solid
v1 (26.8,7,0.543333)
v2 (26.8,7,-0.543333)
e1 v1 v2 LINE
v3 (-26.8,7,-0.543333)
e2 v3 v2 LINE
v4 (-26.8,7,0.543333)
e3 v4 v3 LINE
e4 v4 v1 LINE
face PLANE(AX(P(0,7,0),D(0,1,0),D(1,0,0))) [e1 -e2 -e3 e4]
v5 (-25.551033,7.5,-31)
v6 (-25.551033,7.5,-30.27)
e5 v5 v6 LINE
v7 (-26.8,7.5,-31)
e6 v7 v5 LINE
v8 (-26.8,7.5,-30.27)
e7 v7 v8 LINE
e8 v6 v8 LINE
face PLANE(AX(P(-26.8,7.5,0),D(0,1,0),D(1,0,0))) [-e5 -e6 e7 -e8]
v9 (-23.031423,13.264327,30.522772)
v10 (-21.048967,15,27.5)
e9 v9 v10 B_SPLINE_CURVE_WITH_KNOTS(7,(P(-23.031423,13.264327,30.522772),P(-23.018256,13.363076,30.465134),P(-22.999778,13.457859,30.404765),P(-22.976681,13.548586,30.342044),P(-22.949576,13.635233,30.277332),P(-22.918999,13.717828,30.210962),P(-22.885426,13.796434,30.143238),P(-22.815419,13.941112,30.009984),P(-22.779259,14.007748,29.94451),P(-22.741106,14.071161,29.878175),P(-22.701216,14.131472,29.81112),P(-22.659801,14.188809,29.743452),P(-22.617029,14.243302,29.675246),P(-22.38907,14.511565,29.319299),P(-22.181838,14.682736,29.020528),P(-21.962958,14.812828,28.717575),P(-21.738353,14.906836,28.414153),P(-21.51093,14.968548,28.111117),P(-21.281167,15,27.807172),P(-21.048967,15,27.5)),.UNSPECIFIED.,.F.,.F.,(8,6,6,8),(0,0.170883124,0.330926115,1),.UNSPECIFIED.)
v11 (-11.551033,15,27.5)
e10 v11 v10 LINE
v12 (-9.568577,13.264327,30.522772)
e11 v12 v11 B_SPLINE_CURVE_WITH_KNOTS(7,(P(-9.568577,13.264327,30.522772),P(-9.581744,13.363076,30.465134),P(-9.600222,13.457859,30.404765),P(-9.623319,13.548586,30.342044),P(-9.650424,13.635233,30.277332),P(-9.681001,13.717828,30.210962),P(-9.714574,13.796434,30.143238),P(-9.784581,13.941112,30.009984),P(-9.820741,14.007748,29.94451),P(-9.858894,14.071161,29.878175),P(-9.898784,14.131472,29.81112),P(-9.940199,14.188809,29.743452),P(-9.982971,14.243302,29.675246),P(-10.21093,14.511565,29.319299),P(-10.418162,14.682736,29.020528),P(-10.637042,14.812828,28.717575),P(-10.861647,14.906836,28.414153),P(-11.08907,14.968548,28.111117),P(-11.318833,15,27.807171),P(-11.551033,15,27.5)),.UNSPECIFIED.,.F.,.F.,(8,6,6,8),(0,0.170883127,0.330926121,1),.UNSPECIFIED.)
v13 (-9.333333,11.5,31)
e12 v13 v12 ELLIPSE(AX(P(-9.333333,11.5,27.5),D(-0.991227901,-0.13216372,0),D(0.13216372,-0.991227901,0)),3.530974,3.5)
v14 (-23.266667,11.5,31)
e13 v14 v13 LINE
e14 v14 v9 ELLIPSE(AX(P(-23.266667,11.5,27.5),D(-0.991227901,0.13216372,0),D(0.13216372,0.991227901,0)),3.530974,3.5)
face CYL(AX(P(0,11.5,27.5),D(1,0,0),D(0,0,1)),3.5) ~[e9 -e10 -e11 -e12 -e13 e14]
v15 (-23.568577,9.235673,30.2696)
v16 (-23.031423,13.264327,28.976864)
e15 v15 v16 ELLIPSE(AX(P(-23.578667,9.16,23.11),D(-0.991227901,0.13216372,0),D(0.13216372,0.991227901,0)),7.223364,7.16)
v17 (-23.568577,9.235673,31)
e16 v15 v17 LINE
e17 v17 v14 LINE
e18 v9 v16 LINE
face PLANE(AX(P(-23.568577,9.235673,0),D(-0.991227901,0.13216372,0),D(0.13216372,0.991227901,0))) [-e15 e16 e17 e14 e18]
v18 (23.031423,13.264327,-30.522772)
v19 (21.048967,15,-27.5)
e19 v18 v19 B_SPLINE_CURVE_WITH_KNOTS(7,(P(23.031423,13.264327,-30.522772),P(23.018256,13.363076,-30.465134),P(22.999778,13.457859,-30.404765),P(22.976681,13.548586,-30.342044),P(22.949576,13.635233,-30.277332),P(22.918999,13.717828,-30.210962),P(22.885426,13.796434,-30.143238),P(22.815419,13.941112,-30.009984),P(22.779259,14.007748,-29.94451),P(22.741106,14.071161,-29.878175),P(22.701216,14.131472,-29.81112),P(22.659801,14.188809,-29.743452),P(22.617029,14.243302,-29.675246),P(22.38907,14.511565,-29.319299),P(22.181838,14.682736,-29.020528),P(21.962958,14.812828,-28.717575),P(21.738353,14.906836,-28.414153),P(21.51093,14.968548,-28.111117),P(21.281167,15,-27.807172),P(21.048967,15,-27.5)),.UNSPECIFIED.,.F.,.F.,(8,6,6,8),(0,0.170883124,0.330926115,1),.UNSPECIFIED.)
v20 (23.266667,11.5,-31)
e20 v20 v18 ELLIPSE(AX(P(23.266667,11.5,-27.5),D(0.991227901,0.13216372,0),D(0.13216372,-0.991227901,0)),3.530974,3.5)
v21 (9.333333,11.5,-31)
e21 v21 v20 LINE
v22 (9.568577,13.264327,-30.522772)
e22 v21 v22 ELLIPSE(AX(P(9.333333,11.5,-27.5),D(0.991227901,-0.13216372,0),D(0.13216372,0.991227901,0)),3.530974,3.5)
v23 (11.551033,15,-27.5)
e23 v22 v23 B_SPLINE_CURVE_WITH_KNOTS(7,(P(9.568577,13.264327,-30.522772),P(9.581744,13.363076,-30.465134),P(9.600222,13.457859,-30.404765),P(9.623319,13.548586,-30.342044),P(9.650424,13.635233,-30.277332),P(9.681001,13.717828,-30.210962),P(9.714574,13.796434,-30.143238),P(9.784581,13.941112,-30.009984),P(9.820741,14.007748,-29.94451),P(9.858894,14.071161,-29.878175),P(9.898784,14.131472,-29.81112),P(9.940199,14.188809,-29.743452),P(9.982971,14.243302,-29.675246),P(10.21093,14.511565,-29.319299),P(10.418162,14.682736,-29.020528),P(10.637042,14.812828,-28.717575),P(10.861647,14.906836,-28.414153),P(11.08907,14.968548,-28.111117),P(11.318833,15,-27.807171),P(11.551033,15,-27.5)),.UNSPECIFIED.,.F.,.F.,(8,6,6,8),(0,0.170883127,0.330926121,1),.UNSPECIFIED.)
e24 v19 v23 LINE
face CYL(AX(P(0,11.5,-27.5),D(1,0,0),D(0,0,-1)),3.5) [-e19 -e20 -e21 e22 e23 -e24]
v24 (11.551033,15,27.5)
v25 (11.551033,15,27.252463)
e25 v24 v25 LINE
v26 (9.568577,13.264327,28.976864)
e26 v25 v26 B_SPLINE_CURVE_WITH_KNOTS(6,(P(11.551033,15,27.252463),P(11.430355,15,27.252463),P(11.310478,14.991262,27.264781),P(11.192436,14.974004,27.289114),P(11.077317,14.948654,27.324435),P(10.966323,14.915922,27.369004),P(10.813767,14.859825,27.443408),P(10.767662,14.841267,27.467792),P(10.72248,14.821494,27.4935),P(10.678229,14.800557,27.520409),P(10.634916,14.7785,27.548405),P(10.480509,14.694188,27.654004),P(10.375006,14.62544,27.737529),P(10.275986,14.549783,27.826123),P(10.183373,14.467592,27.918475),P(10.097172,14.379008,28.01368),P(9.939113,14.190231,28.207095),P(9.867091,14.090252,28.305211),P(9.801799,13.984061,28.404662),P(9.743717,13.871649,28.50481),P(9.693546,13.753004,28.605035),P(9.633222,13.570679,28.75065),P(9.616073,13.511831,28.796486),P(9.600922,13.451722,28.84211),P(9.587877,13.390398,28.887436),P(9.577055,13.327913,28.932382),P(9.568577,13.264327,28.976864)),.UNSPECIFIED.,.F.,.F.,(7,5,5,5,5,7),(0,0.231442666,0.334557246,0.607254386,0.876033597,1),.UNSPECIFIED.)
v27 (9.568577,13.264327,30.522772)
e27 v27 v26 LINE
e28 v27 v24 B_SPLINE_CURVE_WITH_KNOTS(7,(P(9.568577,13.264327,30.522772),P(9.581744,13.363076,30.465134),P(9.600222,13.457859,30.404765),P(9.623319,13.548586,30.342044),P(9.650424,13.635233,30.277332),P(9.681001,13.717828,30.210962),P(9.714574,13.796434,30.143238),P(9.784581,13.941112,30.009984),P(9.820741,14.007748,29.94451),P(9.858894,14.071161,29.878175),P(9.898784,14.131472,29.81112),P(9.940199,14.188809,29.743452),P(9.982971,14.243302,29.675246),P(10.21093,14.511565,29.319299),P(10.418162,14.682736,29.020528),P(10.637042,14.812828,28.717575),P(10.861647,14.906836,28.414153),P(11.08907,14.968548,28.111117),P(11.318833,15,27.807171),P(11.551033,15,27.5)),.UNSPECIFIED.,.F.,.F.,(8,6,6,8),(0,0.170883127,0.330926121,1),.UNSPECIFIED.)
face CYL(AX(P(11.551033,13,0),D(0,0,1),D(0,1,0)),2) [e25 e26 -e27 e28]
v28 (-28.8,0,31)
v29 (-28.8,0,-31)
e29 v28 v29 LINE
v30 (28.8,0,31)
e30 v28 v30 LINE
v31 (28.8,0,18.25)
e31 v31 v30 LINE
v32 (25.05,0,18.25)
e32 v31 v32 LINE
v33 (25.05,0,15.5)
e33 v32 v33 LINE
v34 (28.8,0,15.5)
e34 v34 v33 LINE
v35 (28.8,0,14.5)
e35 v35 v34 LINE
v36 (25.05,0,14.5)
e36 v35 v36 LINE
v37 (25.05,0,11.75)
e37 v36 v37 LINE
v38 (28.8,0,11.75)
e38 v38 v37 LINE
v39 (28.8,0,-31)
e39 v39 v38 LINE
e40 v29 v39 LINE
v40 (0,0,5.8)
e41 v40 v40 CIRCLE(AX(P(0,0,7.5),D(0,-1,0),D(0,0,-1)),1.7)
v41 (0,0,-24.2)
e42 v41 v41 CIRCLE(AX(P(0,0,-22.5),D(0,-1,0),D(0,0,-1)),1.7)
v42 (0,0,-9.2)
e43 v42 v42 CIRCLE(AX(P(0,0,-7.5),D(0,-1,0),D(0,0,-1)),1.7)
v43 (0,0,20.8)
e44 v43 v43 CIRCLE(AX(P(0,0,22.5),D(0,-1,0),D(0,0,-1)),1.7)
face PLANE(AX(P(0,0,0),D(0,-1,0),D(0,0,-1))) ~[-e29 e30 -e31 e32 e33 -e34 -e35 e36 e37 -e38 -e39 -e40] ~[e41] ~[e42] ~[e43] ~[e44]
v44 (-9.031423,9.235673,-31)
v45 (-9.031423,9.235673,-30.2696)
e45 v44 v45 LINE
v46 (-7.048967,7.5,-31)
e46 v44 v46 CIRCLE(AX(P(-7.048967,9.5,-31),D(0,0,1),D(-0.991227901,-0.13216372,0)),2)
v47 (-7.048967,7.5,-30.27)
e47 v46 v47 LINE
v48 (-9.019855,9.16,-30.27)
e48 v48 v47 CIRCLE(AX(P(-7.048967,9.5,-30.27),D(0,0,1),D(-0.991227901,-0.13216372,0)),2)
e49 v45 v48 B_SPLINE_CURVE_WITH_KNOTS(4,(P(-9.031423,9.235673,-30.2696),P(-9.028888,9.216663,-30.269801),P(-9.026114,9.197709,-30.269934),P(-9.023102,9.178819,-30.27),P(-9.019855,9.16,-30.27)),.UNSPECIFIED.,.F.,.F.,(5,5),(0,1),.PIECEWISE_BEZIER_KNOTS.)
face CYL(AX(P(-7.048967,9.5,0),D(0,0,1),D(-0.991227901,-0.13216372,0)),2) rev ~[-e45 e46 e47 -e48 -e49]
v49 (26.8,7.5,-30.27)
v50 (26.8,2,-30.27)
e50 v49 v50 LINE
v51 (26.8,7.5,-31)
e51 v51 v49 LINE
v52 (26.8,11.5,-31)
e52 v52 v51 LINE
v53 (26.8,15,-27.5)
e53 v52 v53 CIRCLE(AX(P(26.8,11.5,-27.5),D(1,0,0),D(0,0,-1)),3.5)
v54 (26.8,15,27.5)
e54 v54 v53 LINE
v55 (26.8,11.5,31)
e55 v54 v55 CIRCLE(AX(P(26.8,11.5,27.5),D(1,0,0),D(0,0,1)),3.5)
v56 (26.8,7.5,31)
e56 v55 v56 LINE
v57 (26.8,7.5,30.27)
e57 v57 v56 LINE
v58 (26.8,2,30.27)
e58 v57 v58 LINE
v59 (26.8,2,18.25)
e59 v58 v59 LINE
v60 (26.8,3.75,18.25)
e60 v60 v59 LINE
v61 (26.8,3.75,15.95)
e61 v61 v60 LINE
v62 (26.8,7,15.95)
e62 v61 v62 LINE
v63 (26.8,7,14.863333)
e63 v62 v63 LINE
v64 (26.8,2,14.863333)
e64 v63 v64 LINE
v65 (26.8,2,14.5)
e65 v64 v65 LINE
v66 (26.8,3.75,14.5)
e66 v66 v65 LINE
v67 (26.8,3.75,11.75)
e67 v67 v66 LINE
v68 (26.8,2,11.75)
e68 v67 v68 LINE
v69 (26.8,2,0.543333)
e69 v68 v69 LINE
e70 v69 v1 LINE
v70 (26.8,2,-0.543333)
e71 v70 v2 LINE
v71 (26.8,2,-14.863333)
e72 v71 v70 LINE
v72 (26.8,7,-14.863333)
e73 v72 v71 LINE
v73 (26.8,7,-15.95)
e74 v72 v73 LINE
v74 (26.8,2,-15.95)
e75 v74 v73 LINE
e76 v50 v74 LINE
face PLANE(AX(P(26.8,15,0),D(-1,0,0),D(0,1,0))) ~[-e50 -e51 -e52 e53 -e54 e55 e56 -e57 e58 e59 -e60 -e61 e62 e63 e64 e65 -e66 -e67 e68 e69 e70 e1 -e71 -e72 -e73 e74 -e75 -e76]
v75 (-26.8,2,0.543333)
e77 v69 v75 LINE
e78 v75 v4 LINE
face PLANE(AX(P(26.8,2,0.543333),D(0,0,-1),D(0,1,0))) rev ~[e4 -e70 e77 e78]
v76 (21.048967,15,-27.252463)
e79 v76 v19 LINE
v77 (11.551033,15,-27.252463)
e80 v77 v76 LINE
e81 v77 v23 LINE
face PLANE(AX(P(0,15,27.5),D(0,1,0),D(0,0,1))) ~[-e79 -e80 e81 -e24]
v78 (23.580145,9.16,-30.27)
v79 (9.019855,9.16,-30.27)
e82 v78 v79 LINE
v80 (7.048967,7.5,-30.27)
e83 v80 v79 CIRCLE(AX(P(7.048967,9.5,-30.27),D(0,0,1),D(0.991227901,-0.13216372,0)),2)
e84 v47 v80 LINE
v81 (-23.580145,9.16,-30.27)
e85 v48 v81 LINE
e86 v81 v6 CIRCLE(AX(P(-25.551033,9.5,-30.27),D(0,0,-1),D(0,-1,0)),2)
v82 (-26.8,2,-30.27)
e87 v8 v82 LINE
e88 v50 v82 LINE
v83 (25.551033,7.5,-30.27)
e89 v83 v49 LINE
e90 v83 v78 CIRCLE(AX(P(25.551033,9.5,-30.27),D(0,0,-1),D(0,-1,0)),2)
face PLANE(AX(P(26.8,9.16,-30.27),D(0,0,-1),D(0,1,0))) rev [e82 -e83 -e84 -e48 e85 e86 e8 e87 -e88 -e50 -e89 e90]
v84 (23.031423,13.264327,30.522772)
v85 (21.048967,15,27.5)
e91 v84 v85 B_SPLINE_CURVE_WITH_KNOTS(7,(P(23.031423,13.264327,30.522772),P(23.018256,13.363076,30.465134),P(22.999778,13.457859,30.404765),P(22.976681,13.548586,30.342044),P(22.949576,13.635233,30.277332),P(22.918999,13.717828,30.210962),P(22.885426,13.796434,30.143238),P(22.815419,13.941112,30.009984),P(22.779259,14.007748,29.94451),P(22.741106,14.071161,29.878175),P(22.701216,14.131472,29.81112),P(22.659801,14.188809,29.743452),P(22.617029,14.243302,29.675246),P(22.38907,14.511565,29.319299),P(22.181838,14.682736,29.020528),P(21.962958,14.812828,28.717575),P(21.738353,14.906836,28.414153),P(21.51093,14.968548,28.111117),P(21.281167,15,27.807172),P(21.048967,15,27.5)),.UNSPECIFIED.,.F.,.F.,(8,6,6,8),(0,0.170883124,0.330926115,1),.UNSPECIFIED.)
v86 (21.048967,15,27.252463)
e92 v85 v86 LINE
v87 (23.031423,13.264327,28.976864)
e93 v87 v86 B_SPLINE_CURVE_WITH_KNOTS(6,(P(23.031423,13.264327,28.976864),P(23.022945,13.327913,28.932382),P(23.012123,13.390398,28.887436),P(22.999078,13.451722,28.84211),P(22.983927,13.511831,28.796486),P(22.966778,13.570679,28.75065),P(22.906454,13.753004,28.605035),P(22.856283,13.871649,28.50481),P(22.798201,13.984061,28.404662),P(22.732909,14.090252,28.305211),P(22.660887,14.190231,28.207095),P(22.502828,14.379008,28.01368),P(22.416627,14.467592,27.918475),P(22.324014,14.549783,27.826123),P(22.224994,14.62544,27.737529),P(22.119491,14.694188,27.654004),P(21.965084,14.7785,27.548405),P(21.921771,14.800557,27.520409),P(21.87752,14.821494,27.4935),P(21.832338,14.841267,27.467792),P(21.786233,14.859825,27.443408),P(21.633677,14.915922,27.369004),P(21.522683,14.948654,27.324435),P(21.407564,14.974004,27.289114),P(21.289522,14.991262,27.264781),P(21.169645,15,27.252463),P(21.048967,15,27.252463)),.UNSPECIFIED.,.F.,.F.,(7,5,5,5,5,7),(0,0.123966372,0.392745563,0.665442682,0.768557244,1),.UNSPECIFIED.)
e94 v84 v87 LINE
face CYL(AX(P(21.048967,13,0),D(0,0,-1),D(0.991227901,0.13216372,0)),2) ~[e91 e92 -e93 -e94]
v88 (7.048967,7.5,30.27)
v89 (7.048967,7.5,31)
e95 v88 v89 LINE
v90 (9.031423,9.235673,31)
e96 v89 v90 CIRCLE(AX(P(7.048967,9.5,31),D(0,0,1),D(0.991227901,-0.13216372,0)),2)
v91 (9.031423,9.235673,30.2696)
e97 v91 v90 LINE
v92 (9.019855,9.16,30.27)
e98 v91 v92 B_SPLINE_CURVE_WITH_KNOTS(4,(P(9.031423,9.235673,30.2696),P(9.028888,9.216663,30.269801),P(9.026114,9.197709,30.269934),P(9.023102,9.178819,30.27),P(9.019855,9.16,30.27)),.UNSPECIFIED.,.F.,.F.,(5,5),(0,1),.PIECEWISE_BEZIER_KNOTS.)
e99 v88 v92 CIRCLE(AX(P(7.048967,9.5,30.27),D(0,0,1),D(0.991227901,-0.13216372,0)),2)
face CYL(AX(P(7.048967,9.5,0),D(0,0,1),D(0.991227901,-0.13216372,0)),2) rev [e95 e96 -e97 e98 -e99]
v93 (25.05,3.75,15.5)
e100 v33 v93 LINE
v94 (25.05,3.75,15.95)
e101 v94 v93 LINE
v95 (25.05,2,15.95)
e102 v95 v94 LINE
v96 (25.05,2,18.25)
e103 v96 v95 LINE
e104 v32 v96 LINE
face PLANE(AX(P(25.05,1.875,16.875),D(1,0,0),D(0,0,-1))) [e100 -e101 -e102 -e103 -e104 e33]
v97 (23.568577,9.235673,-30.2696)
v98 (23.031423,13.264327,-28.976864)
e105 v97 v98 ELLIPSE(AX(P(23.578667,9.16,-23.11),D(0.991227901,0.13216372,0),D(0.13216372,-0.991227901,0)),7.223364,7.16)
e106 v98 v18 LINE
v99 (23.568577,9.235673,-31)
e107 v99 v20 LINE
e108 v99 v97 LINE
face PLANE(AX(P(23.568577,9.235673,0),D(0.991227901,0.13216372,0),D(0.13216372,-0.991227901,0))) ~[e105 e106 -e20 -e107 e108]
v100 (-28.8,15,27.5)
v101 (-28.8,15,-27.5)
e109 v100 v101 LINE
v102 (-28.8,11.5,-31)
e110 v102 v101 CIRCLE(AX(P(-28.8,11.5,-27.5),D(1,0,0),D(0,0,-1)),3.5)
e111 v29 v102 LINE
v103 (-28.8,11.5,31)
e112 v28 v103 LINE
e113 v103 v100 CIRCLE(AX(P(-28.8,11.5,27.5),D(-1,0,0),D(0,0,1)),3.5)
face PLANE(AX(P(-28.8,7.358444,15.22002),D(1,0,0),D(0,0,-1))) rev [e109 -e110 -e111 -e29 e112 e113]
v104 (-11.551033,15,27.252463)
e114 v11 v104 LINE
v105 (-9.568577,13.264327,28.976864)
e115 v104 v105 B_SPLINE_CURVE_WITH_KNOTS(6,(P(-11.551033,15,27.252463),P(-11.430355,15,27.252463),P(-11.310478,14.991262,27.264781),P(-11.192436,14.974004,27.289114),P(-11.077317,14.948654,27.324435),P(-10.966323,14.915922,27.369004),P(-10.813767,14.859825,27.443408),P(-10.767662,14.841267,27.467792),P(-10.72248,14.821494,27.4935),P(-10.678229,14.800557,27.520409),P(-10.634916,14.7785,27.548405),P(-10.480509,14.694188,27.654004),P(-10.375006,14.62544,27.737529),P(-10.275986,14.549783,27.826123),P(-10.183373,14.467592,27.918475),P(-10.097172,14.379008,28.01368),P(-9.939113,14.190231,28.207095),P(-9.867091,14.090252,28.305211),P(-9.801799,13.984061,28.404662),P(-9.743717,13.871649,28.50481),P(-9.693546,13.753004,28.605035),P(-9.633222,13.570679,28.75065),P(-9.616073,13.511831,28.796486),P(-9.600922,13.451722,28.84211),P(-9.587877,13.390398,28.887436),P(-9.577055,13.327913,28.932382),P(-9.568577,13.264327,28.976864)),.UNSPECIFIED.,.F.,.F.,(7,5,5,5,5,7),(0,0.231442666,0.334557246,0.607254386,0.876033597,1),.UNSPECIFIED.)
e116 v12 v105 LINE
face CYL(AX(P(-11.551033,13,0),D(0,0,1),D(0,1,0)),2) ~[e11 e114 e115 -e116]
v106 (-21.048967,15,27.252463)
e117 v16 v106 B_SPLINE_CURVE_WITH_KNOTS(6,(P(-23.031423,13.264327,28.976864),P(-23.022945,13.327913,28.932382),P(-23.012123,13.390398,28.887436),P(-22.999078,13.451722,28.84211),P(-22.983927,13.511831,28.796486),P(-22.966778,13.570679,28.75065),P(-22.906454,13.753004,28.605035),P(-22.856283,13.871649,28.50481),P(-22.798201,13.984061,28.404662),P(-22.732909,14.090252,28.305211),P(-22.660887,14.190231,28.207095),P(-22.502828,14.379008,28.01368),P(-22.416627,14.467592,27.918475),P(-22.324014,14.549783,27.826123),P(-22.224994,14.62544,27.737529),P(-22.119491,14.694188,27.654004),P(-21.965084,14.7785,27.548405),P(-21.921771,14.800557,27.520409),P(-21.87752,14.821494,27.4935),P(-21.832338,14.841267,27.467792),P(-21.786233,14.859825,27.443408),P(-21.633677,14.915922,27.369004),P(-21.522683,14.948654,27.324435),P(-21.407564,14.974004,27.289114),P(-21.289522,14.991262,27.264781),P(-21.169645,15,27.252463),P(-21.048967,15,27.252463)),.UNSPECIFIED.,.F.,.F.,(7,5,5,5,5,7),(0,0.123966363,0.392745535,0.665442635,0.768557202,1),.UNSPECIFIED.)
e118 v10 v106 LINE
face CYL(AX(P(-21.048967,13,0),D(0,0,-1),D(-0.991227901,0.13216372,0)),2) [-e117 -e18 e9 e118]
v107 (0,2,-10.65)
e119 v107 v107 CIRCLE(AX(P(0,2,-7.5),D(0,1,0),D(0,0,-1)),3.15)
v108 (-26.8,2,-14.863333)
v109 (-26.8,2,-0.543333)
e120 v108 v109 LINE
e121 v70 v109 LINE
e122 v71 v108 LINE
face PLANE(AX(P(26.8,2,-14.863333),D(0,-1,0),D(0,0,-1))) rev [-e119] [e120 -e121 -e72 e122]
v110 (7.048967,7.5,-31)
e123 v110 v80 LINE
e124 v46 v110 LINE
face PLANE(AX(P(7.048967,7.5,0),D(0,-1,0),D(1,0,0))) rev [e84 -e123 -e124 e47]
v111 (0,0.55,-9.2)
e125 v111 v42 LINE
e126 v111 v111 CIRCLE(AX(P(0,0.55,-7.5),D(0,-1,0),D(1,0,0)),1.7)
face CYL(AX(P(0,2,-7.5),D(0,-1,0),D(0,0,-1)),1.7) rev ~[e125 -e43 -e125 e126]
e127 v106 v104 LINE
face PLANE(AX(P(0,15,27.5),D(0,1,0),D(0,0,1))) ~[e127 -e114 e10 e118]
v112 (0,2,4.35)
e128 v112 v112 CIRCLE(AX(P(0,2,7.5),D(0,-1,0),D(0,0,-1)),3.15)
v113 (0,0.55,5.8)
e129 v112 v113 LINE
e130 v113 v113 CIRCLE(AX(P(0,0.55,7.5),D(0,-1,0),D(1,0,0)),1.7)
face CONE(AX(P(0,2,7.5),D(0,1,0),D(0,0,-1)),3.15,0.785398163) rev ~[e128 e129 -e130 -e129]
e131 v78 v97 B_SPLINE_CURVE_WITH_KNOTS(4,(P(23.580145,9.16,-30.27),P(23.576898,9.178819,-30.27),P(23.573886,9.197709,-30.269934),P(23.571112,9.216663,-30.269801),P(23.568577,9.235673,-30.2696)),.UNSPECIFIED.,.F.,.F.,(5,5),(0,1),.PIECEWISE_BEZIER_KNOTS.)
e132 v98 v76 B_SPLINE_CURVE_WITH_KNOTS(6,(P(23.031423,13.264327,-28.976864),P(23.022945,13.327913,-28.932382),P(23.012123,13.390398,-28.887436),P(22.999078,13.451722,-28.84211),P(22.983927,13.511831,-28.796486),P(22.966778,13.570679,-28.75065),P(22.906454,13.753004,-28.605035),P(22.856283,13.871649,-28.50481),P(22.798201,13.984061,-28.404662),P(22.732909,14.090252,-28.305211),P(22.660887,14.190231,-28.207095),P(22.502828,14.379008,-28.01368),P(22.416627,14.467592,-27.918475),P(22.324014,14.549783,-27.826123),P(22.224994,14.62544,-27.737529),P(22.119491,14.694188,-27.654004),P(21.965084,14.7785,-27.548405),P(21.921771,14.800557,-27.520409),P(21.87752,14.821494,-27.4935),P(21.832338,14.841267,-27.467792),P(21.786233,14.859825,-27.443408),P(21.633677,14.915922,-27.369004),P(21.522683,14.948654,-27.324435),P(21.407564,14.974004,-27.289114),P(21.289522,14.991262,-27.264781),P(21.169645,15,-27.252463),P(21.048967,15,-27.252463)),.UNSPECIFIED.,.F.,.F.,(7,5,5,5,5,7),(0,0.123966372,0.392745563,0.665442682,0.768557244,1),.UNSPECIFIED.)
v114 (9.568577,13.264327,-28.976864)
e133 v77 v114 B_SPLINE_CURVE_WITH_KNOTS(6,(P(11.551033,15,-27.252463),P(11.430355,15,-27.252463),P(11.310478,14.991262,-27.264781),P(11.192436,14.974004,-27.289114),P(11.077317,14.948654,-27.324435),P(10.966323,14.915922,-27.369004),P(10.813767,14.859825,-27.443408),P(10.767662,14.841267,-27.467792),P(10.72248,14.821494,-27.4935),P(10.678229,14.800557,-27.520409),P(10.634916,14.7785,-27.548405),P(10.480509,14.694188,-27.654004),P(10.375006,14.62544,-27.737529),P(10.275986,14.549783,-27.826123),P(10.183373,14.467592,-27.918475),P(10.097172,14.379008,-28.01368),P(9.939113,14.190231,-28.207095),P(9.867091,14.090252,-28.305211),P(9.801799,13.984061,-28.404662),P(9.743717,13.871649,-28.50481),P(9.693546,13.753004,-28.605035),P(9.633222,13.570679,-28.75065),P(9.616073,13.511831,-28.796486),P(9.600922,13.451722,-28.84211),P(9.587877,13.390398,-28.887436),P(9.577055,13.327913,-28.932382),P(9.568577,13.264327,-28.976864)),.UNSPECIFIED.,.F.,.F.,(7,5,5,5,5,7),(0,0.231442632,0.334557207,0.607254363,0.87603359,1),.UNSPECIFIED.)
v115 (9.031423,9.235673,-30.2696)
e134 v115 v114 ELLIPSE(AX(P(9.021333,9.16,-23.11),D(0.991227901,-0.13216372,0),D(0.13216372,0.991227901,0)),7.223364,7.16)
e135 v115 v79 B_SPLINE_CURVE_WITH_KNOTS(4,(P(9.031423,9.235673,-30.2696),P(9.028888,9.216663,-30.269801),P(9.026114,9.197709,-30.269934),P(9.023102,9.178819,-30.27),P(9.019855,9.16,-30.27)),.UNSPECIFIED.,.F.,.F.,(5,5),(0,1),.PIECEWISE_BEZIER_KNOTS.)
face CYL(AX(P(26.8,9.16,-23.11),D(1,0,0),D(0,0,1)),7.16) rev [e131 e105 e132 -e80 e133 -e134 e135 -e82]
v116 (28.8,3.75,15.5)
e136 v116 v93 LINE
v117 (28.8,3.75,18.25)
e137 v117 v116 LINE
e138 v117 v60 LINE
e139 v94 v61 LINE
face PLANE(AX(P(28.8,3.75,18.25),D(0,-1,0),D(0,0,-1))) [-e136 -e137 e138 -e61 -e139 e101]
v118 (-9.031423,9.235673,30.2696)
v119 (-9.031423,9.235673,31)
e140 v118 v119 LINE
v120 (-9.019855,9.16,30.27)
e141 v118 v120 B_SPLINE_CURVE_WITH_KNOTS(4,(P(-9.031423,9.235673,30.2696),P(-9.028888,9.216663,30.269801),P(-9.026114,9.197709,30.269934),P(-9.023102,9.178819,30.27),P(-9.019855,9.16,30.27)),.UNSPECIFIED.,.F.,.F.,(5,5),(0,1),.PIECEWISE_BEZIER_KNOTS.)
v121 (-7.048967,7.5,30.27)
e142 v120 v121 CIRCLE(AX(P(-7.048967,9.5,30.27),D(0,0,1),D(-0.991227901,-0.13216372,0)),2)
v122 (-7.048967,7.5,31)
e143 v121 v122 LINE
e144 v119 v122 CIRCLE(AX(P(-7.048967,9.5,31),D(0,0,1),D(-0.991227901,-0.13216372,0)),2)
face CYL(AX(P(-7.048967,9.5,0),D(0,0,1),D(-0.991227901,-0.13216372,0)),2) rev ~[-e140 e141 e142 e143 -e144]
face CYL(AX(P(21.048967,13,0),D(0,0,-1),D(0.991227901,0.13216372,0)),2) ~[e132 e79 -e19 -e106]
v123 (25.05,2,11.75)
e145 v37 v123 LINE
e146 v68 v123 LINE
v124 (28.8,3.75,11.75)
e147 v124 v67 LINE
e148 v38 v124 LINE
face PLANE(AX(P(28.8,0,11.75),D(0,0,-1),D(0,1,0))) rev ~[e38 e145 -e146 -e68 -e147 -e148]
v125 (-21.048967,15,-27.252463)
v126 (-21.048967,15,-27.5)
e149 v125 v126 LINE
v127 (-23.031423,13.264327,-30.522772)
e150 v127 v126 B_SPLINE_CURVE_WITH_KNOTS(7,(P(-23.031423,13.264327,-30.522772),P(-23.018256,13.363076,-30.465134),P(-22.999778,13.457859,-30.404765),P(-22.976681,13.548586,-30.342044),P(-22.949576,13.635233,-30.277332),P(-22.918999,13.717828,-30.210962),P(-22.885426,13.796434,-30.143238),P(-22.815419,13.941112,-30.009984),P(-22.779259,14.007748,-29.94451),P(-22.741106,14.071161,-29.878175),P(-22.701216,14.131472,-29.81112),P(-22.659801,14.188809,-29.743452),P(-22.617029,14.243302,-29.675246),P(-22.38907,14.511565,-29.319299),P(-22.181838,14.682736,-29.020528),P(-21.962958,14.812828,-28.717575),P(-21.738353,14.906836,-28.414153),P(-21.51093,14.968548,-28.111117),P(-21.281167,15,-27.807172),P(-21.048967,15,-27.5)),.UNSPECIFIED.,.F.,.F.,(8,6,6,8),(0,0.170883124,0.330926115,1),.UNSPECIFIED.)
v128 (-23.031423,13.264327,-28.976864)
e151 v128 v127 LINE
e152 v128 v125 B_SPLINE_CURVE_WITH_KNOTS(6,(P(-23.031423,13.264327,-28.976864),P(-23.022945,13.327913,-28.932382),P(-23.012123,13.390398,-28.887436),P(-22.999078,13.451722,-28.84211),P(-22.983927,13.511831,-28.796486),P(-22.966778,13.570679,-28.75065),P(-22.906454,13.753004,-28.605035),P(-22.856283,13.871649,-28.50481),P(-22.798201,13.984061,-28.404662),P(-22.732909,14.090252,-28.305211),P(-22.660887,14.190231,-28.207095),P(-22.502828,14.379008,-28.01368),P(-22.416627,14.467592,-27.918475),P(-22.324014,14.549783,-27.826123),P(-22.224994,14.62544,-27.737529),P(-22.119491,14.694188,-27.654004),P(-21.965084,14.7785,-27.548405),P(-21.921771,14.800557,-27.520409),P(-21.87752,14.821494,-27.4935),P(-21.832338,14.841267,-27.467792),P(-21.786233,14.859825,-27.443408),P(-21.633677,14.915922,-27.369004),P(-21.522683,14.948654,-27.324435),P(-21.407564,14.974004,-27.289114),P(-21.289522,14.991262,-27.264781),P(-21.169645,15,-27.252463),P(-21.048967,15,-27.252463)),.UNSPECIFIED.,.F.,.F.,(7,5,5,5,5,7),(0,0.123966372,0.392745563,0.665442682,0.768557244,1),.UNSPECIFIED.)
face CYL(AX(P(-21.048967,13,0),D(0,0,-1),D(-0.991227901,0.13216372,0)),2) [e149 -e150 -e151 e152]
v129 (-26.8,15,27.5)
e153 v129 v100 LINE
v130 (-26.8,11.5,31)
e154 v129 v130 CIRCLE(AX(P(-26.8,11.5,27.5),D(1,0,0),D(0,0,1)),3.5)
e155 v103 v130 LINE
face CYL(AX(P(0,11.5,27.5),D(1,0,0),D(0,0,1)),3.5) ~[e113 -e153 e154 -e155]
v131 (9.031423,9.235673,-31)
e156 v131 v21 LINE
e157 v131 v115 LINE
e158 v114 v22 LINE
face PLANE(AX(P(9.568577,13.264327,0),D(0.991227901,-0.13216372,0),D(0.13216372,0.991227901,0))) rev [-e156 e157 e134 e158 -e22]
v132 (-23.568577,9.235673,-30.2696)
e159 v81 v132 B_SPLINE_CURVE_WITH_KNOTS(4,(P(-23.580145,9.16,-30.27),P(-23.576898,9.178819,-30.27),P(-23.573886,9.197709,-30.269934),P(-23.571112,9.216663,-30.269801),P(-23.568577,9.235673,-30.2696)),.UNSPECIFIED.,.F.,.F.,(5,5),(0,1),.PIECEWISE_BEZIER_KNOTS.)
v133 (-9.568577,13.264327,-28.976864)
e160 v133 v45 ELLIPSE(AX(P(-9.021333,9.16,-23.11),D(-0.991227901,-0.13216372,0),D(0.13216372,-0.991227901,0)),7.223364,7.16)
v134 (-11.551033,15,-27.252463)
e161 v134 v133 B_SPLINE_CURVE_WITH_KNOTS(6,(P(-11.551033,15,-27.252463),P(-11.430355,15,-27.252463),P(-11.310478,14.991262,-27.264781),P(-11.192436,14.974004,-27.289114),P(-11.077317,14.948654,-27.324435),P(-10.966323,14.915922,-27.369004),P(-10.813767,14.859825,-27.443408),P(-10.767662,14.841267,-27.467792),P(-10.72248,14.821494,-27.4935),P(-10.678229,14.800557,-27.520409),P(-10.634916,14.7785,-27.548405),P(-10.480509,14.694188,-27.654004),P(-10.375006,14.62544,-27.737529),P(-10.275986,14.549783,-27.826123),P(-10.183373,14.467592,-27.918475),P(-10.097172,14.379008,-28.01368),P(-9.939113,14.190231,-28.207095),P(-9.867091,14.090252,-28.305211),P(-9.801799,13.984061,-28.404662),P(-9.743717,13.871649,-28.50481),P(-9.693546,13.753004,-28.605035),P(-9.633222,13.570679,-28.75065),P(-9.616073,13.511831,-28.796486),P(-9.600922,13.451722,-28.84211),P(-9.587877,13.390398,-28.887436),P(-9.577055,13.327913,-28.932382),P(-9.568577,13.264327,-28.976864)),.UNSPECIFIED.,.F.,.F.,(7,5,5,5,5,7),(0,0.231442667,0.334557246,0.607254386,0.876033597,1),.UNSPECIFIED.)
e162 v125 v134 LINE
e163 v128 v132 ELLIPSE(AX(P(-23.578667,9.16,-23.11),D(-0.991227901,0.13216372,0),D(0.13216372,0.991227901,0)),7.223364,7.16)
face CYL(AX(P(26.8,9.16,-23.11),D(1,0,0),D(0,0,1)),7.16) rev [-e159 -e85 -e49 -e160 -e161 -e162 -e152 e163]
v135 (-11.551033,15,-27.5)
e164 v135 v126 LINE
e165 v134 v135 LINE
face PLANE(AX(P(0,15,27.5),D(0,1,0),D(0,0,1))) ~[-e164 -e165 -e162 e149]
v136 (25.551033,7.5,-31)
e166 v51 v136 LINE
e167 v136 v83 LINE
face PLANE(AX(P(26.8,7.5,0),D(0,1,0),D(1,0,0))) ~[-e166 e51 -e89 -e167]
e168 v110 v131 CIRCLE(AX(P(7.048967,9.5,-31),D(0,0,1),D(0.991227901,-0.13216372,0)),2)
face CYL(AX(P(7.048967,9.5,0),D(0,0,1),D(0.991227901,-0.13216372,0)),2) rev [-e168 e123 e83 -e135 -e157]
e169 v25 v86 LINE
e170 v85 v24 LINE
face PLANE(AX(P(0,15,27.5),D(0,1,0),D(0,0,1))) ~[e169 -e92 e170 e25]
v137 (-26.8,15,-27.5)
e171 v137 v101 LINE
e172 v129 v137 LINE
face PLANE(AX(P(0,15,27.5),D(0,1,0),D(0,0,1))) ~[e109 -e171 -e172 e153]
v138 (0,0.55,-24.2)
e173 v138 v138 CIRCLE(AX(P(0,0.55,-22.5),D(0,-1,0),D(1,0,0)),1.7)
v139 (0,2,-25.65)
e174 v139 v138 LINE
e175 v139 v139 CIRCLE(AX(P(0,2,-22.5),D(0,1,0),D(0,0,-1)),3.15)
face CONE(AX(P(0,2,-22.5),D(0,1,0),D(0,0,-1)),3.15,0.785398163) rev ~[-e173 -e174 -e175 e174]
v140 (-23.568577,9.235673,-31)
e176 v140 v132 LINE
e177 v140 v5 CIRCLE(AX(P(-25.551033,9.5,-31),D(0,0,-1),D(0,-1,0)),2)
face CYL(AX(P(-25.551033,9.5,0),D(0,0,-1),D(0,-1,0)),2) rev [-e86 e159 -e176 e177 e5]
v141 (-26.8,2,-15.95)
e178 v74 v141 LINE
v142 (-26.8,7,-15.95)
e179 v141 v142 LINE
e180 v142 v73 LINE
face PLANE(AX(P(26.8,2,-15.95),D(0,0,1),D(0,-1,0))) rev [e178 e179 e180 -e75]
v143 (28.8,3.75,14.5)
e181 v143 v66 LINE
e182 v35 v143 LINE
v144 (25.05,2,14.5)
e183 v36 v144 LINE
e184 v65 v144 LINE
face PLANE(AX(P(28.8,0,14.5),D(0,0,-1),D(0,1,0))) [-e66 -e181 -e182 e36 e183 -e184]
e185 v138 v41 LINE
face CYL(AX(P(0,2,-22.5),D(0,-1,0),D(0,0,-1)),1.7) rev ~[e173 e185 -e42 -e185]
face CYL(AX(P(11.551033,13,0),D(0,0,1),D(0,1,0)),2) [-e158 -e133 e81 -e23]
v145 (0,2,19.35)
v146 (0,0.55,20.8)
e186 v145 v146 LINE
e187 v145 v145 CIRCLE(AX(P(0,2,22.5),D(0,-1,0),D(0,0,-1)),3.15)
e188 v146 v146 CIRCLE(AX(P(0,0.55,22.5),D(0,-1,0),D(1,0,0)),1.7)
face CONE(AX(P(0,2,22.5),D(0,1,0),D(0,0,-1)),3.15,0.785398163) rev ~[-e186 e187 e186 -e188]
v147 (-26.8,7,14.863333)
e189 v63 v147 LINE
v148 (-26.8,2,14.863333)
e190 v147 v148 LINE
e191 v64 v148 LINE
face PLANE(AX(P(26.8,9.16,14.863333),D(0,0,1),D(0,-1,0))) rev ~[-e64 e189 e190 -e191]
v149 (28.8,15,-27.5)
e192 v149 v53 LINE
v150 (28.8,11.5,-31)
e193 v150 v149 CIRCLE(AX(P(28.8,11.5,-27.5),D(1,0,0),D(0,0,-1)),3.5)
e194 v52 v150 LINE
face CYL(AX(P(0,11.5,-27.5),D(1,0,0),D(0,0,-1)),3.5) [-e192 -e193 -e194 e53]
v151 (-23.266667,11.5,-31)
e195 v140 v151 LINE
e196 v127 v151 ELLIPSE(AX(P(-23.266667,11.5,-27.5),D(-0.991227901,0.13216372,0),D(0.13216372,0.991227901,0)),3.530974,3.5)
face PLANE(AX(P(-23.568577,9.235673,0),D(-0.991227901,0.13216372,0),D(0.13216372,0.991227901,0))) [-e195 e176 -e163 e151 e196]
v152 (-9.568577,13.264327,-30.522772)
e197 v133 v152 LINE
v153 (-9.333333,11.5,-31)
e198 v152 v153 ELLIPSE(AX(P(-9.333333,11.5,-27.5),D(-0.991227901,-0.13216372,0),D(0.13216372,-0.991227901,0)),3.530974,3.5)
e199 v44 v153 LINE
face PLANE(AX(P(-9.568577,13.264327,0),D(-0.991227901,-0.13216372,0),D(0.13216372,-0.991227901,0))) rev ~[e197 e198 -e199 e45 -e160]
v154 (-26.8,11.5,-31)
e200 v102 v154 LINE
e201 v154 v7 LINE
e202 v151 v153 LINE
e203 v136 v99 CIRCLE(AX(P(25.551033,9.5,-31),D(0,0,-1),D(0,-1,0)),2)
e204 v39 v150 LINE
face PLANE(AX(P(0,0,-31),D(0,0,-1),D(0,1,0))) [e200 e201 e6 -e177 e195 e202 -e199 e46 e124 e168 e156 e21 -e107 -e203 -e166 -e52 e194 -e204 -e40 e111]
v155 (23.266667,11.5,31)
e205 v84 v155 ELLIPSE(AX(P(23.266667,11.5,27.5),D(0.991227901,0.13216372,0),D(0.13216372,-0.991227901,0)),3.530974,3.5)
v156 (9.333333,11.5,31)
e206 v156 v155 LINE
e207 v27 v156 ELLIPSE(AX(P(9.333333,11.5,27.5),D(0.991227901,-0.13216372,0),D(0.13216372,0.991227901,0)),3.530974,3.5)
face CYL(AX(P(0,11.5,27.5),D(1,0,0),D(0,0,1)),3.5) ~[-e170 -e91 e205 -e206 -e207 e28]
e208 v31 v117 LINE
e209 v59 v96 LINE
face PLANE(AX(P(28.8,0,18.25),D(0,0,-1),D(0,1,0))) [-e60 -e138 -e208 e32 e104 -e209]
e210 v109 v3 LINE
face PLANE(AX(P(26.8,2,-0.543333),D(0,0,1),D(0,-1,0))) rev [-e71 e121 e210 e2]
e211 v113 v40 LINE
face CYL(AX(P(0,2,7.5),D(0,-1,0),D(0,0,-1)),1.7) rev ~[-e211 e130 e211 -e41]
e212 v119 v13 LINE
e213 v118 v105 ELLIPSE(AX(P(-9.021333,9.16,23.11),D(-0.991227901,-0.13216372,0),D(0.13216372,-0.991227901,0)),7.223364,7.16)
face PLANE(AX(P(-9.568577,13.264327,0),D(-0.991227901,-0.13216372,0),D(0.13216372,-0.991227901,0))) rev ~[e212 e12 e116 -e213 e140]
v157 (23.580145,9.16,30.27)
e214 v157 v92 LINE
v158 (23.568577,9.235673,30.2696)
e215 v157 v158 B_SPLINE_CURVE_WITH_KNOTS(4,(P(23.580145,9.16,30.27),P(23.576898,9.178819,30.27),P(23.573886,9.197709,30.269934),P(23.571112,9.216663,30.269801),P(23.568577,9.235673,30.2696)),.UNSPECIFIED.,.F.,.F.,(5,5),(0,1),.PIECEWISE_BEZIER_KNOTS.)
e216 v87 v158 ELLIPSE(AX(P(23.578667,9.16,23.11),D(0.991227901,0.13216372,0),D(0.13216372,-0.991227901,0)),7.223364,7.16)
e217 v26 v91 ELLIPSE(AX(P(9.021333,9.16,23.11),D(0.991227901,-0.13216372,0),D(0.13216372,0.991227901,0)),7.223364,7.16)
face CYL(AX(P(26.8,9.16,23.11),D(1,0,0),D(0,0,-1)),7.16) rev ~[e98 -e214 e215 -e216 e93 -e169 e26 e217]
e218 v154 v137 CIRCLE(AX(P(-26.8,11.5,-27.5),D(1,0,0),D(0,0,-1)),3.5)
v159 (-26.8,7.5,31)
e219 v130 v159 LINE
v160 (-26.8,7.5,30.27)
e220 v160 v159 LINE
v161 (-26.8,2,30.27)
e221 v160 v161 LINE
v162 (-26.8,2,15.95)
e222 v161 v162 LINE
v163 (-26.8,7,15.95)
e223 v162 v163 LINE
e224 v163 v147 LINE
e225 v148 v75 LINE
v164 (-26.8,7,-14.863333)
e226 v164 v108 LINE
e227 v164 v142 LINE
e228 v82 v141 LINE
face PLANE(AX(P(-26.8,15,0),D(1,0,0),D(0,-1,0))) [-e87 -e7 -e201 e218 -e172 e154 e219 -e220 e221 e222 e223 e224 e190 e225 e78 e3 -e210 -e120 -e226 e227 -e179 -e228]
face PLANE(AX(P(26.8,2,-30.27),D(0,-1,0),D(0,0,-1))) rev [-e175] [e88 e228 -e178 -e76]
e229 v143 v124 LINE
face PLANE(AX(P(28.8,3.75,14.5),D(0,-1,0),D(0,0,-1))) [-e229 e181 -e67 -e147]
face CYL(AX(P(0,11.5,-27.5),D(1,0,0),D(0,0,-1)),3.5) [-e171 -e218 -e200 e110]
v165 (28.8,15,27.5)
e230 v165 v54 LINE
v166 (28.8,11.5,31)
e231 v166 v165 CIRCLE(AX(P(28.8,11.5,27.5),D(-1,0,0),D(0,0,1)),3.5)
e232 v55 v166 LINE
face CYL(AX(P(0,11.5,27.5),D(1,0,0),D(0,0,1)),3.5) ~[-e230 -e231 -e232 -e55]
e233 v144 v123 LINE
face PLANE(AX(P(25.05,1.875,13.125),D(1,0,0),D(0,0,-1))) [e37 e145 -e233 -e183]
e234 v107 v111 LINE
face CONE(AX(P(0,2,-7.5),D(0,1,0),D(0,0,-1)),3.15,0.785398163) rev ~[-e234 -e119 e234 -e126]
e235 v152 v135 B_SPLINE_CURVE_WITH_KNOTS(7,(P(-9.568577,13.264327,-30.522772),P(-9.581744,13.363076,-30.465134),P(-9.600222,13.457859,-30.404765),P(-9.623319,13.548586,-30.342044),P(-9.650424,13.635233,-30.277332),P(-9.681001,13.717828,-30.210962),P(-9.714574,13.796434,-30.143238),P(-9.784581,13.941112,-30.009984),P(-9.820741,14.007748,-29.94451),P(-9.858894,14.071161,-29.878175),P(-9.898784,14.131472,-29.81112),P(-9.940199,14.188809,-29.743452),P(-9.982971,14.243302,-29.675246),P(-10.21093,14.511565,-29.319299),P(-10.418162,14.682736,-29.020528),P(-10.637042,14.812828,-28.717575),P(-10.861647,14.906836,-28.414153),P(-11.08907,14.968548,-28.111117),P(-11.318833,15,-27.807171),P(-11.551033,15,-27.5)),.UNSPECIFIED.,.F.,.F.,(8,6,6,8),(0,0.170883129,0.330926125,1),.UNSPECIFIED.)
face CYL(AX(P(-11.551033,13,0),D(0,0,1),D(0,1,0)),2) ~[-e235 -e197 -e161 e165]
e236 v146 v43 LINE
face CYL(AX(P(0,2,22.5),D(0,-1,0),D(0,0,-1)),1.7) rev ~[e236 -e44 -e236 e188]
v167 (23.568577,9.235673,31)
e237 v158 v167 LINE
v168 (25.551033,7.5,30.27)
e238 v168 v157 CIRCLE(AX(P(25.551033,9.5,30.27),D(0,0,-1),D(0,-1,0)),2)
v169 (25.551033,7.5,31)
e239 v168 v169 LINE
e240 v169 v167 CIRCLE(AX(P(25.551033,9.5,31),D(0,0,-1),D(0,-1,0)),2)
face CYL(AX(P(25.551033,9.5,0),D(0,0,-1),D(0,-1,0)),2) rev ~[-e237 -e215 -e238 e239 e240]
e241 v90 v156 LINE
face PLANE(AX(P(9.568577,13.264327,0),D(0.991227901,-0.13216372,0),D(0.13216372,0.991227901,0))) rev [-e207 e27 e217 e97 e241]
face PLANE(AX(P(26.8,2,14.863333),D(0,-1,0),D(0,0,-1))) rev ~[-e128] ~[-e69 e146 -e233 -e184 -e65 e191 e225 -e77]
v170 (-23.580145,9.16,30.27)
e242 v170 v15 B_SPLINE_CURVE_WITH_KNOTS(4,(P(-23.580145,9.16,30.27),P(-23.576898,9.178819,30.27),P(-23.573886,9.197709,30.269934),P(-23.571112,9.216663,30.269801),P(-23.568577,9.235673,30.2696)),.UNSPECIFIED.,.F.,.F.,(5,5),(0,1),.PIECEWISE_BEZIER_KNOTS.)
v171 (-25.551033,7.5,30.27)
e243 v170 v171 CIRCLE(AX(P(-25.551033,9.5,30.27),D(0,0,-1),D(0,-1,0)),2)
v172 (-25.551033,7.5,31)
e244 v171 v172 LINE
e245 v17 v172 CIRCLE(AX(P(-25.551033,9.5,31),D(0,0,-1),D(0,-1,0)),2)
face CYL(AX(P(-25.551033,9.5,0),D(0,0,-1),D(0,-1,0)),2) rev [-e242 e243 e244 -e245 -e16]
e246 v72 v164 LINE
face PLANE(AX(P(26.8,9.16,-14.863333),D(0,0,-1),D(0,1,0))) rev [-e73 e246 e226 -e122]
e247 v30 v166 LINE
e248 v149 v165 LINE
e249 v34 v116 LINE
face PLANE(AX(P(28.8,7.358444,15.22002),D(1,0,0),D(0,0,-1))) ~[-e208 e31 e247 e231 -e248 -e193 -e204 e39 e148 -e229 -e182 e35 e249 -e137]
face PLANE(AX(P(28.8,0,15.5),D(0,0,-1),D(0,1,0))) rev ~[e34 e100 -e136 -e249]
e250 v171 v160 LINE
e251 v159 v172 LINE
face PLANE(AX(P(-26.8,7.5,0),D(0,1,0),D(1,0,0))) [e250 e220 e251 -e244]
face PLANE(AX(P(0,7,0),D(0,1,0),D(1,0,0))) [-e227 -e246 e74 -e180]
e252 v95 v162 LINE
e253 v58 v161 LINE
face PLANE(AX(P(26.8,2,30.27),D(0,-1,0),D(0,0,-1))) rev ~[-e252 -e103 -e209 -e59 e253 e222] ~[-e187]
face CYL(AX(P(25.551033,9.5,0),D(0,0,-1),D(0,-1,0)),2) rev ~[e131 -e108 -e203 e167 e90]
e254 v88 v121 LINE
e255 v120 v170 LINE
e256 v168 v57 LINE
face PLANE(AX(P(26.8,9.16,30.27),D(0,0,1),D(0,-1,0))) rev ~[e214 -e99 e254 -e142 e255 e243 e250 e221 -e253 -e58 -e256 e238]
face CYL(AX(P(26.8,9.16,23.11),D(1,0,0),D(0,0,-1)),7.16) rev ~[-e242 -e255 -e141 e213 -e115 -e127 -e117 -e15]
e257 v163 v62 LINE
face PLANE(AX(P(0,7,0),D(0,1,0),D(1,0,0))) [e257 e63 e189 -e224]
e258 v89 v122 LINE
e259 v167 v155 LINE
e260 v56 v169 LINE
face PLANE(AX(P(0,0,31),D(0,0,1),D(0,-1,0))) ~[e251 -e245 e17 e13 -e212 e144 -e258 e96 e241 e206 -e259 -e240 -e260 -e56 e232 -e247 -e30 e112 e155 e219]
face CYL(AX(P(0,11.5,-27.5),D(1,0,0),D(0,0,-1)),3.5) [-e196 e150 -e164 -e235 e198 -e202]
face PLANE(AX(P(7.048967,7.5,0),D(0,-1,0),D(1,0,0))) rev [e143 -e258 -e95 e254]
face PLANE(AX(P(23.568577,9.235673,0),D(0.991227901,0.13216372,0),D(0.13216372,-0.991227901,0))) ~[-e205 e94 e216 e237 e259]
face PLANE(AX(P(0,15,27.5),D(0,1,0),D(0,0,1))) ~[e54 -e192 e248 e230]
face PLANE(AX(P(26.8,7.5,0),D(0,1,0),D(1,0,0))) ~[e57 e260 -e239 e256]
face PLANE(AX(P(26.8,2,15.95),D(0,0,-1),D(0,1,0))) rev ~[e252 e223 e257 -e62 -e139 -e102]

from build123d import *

# Parameters (mm, degrees)
BOSS_EXTRUDE1_DEPTH                             = 28.8
SKETCH2_W                                       = 2.75
SKETCH2_H                                       = 3.75
CUT_EXTRUDE1_DEPTH                              = 3.75
CUT_EXTRUDE2_START                              = -2
CUT_EXTRUDE2_DEPTH                              = 53.6
SKETCH4_W                                       = 53.6
SKETCH4_H                                       = 54.504926328
CUT_EXTRUDE3_DEPTH                              = 8
CSK_FOR_M3_FLAT_HEAD_MACHINE_SCREW1_D           = 3.4
CSK_FOR_M3_FLAT_HEAD_MACHINE_SCREW1_DEPTH       = 7.874
CSK_FOR_M3_FLAT_HEAD_MACHINE_SCREW1_CSINK_D     = 6.3
CSK_FOR_M3_FLAT_HEAD_MACHINE_SCREW1_CSINK_ANGLE = 90
CSK_FOR_M3_FLAT_HEAD_MACHINE_SCREW1_TIP         = 1.021463052
CUT_EXTRUDE4_DEPTH                              = 45.893652113


with BuildPart() as part:
    # Sketch1 → Boss-Extrude1 (new, symmetric)
    with BuildSketch(Plane(origin=(0, 0, 0), x_dir=(0, 0, -1), z_dir=(1, 0, 0))):
        with BuildLine():
            Line((0, 0), (31, 0))
            Line((31, 0), (31, 11.5))
            ThreePointArc((31, 11.5), (29.974873734, 13.974873734), (27.5, 15))
            Line((27.5, 15), (0, 15))
            Line((0, 15), (0, 0))
        make_face()
    boss_extrude1 = extrude(amount=BOSS_EXTRUDE1_DEPTH, both=True)

    # Mirror1: Boss-Extrude1 across plane
    add(boss_extrude1.mirror(Plane(origin=(28.8, 15, 0), x_dir=(1, 0, 0), z_dir=(0, 0, -1))))

    # Sketch2 → Cut-Extrude1 (cut)
    with BuildSketch(Plane(origin=(28.8, 0, 0), x_dir=(0, 0, -1), z_dir=(1, 0, 0))):
        with Locations((-16.8750001, 1.875)):
            Rectangle(SKETCH2_W, SKETCH2_H)
        with Locations((-13.1250001, 1.875)):
            Rectangle(SKETCH2_W, SKETCH2_H)
    extrude(amount=-CUT_EXTRUDE1_DEPTH, mode=Mode.SUBTRACT)

    # Sketch3 → Cut-Extrude2 (cut)
    with BuildSketch(Plane(origin=(28.8, 0, 0), x_dir=(0, 0, -1), z_dir=(1, 0, 0)).offset(CUT_EXTRUDE2_START)):
        with BuildLine():
            Line((-30.270000062, 9.160000031), (-30.270000062, 2))
            Line((-30.270000062, 2), (-15.95, 2))
            Line((-15.95, 2), (-15.95, 9.160000031))
            ThreePointArc((-15.95, 9.160000031), (-23.110000031, 16.320000062), (-30.270000062, 9.160000031))
        make_face()
        with BuildLine():
            Line((-14.863333375, 9.160000031), (-14.863333375, 2))
            Line((-14.863333375, 2), (-0.543333313, 2))
            Line((-0.543333313, 2), (-0.543333313, 9.160000031))
            ThreePointArc((-0.543333313, 9.160000031), (-7.703333344, 16.320000062), (-14.863333375, 9.160000031))
        make_face()
    cut_extrude2 = extrude(amount=-CUT_EXTRUDE2_DEPTH, mode=Mode.SUBTRACT)

    # Mirror2: Cut-Extrude2 across plane
    add(cut_extrude2.mirror(Plane.XY), mode=Mode.SUBTRACT)

    # Sketch4 → Cut-Extrude3 (cut)
    with BuildSketch(Plane(origin=(0, 15, 0), x_dir=(1, 0, 0), z_dir=(0, 1, 0))):
        Rectangle(SKETCH4_W, SKETCH4_H)
    extrude(amount=-CUT_EXTRUDE3_DEPTH, mode=Mode.SUBTRACT)

    # CSK for M3 Flat Head Machine Screw1
    with Locations(Plane(origin=(0, 2, -22.5), x_dir=(0, 0, 1), z_dir=(0, 1, 0))):
        with Locations((0, 0), (15, 0), (30, 0), (45, 0)):
            CounterSinkHole(CSK_FOR_M3_FLAT_HEAD_MACHINE_SCREW1_D / 2, CSK_FOR_M3_FLAT_HEAD_MACHINE_SCREW1_CSINK_D / 2, depth=CSK_FOR_M3_FLAT_HEAD_MACHINE_SCREW1_DEPTH, counter_sink_angle=CSK_FOR_M3_FLAT_HEAD_MACHINE_SCREW1_CSINK_ANGLE)
            with Locations((0, 0, -(CSK_FOR_M3_FLAT_HEAD_MACHINE_SCREW1_DEPTH + CSK_FOR_M3_FLAT_HEAD_MACHINE_SCREW1_TIP / 2))):  # 118° drill point
                Cone(0, CSK_FOR_M3_FLAT_HEAD_MACHINE_SCREW1_D / 2, CSK_FOR_M3_FLAT_HEAD_MACHINE_SCREW1_TIP, mode=Mode.SUBTRACT)

    # Sketch7 → Cut-Extrude4 (cut, symmetric)
    with BuildSketch(Plane.XY):
        with BuildLine():
            Line((-26.8, 15), (-26.8, 7.5))
            Line((-26.8, 7.5), (-25.551032793, 7.5))
            ThreePointArc((-25.551032793, 7.5), (-24.233583531, 7.995231765), (-23.568576992, 9.23567256))
            Line((-23.568576992, 9.23567256), (-23.031423008, 13.26432744))
            ThreePointArc((-23.031423008, 13.26432744), (-22.366416469, 14.504768235), (-21.048967207, 15))
            Line((-21.048967207, 15), (-22.8, 15))
            Line((-22.8, 15), (-26.8, 15))
        make_face()
        with BuildLine():
            Line((-9.568576992, 13.26432744), (-9.031423008, 9.23567256))
            ThreePointArc((-9.031423008, 9.23567256), (-8.366416469, 7.995231765), (-7.048967207, 7.5))
            Line((-7.048967207, 7.5), (0, 7.5))
            Line((0, 7.5), (0, 15))
            Line((0, 15), (-9.8, 15))
            Line((-9.8, 15), (-11.551032793, 15))
            ThreePointArc((-11.551032793, 15), (-10.233583531, 14.504768235), (-9.568576992, 13.26432744))
        make_face()
    cut_extrude4 = extrude(amount=CUT_EXTRUDE4_DEPTH, both=True, mode=Mode.SUBTRACT)

    # Mirror3: Cut-Extrude4 across plane
    add(cut_extrude4.mirror(Plane(origin=(0, 0, 0), x_dir=(0, 0, 1), z_dir=(1, 0, 0))), mode=Mode.SUBTRACT)


solid = part.part
